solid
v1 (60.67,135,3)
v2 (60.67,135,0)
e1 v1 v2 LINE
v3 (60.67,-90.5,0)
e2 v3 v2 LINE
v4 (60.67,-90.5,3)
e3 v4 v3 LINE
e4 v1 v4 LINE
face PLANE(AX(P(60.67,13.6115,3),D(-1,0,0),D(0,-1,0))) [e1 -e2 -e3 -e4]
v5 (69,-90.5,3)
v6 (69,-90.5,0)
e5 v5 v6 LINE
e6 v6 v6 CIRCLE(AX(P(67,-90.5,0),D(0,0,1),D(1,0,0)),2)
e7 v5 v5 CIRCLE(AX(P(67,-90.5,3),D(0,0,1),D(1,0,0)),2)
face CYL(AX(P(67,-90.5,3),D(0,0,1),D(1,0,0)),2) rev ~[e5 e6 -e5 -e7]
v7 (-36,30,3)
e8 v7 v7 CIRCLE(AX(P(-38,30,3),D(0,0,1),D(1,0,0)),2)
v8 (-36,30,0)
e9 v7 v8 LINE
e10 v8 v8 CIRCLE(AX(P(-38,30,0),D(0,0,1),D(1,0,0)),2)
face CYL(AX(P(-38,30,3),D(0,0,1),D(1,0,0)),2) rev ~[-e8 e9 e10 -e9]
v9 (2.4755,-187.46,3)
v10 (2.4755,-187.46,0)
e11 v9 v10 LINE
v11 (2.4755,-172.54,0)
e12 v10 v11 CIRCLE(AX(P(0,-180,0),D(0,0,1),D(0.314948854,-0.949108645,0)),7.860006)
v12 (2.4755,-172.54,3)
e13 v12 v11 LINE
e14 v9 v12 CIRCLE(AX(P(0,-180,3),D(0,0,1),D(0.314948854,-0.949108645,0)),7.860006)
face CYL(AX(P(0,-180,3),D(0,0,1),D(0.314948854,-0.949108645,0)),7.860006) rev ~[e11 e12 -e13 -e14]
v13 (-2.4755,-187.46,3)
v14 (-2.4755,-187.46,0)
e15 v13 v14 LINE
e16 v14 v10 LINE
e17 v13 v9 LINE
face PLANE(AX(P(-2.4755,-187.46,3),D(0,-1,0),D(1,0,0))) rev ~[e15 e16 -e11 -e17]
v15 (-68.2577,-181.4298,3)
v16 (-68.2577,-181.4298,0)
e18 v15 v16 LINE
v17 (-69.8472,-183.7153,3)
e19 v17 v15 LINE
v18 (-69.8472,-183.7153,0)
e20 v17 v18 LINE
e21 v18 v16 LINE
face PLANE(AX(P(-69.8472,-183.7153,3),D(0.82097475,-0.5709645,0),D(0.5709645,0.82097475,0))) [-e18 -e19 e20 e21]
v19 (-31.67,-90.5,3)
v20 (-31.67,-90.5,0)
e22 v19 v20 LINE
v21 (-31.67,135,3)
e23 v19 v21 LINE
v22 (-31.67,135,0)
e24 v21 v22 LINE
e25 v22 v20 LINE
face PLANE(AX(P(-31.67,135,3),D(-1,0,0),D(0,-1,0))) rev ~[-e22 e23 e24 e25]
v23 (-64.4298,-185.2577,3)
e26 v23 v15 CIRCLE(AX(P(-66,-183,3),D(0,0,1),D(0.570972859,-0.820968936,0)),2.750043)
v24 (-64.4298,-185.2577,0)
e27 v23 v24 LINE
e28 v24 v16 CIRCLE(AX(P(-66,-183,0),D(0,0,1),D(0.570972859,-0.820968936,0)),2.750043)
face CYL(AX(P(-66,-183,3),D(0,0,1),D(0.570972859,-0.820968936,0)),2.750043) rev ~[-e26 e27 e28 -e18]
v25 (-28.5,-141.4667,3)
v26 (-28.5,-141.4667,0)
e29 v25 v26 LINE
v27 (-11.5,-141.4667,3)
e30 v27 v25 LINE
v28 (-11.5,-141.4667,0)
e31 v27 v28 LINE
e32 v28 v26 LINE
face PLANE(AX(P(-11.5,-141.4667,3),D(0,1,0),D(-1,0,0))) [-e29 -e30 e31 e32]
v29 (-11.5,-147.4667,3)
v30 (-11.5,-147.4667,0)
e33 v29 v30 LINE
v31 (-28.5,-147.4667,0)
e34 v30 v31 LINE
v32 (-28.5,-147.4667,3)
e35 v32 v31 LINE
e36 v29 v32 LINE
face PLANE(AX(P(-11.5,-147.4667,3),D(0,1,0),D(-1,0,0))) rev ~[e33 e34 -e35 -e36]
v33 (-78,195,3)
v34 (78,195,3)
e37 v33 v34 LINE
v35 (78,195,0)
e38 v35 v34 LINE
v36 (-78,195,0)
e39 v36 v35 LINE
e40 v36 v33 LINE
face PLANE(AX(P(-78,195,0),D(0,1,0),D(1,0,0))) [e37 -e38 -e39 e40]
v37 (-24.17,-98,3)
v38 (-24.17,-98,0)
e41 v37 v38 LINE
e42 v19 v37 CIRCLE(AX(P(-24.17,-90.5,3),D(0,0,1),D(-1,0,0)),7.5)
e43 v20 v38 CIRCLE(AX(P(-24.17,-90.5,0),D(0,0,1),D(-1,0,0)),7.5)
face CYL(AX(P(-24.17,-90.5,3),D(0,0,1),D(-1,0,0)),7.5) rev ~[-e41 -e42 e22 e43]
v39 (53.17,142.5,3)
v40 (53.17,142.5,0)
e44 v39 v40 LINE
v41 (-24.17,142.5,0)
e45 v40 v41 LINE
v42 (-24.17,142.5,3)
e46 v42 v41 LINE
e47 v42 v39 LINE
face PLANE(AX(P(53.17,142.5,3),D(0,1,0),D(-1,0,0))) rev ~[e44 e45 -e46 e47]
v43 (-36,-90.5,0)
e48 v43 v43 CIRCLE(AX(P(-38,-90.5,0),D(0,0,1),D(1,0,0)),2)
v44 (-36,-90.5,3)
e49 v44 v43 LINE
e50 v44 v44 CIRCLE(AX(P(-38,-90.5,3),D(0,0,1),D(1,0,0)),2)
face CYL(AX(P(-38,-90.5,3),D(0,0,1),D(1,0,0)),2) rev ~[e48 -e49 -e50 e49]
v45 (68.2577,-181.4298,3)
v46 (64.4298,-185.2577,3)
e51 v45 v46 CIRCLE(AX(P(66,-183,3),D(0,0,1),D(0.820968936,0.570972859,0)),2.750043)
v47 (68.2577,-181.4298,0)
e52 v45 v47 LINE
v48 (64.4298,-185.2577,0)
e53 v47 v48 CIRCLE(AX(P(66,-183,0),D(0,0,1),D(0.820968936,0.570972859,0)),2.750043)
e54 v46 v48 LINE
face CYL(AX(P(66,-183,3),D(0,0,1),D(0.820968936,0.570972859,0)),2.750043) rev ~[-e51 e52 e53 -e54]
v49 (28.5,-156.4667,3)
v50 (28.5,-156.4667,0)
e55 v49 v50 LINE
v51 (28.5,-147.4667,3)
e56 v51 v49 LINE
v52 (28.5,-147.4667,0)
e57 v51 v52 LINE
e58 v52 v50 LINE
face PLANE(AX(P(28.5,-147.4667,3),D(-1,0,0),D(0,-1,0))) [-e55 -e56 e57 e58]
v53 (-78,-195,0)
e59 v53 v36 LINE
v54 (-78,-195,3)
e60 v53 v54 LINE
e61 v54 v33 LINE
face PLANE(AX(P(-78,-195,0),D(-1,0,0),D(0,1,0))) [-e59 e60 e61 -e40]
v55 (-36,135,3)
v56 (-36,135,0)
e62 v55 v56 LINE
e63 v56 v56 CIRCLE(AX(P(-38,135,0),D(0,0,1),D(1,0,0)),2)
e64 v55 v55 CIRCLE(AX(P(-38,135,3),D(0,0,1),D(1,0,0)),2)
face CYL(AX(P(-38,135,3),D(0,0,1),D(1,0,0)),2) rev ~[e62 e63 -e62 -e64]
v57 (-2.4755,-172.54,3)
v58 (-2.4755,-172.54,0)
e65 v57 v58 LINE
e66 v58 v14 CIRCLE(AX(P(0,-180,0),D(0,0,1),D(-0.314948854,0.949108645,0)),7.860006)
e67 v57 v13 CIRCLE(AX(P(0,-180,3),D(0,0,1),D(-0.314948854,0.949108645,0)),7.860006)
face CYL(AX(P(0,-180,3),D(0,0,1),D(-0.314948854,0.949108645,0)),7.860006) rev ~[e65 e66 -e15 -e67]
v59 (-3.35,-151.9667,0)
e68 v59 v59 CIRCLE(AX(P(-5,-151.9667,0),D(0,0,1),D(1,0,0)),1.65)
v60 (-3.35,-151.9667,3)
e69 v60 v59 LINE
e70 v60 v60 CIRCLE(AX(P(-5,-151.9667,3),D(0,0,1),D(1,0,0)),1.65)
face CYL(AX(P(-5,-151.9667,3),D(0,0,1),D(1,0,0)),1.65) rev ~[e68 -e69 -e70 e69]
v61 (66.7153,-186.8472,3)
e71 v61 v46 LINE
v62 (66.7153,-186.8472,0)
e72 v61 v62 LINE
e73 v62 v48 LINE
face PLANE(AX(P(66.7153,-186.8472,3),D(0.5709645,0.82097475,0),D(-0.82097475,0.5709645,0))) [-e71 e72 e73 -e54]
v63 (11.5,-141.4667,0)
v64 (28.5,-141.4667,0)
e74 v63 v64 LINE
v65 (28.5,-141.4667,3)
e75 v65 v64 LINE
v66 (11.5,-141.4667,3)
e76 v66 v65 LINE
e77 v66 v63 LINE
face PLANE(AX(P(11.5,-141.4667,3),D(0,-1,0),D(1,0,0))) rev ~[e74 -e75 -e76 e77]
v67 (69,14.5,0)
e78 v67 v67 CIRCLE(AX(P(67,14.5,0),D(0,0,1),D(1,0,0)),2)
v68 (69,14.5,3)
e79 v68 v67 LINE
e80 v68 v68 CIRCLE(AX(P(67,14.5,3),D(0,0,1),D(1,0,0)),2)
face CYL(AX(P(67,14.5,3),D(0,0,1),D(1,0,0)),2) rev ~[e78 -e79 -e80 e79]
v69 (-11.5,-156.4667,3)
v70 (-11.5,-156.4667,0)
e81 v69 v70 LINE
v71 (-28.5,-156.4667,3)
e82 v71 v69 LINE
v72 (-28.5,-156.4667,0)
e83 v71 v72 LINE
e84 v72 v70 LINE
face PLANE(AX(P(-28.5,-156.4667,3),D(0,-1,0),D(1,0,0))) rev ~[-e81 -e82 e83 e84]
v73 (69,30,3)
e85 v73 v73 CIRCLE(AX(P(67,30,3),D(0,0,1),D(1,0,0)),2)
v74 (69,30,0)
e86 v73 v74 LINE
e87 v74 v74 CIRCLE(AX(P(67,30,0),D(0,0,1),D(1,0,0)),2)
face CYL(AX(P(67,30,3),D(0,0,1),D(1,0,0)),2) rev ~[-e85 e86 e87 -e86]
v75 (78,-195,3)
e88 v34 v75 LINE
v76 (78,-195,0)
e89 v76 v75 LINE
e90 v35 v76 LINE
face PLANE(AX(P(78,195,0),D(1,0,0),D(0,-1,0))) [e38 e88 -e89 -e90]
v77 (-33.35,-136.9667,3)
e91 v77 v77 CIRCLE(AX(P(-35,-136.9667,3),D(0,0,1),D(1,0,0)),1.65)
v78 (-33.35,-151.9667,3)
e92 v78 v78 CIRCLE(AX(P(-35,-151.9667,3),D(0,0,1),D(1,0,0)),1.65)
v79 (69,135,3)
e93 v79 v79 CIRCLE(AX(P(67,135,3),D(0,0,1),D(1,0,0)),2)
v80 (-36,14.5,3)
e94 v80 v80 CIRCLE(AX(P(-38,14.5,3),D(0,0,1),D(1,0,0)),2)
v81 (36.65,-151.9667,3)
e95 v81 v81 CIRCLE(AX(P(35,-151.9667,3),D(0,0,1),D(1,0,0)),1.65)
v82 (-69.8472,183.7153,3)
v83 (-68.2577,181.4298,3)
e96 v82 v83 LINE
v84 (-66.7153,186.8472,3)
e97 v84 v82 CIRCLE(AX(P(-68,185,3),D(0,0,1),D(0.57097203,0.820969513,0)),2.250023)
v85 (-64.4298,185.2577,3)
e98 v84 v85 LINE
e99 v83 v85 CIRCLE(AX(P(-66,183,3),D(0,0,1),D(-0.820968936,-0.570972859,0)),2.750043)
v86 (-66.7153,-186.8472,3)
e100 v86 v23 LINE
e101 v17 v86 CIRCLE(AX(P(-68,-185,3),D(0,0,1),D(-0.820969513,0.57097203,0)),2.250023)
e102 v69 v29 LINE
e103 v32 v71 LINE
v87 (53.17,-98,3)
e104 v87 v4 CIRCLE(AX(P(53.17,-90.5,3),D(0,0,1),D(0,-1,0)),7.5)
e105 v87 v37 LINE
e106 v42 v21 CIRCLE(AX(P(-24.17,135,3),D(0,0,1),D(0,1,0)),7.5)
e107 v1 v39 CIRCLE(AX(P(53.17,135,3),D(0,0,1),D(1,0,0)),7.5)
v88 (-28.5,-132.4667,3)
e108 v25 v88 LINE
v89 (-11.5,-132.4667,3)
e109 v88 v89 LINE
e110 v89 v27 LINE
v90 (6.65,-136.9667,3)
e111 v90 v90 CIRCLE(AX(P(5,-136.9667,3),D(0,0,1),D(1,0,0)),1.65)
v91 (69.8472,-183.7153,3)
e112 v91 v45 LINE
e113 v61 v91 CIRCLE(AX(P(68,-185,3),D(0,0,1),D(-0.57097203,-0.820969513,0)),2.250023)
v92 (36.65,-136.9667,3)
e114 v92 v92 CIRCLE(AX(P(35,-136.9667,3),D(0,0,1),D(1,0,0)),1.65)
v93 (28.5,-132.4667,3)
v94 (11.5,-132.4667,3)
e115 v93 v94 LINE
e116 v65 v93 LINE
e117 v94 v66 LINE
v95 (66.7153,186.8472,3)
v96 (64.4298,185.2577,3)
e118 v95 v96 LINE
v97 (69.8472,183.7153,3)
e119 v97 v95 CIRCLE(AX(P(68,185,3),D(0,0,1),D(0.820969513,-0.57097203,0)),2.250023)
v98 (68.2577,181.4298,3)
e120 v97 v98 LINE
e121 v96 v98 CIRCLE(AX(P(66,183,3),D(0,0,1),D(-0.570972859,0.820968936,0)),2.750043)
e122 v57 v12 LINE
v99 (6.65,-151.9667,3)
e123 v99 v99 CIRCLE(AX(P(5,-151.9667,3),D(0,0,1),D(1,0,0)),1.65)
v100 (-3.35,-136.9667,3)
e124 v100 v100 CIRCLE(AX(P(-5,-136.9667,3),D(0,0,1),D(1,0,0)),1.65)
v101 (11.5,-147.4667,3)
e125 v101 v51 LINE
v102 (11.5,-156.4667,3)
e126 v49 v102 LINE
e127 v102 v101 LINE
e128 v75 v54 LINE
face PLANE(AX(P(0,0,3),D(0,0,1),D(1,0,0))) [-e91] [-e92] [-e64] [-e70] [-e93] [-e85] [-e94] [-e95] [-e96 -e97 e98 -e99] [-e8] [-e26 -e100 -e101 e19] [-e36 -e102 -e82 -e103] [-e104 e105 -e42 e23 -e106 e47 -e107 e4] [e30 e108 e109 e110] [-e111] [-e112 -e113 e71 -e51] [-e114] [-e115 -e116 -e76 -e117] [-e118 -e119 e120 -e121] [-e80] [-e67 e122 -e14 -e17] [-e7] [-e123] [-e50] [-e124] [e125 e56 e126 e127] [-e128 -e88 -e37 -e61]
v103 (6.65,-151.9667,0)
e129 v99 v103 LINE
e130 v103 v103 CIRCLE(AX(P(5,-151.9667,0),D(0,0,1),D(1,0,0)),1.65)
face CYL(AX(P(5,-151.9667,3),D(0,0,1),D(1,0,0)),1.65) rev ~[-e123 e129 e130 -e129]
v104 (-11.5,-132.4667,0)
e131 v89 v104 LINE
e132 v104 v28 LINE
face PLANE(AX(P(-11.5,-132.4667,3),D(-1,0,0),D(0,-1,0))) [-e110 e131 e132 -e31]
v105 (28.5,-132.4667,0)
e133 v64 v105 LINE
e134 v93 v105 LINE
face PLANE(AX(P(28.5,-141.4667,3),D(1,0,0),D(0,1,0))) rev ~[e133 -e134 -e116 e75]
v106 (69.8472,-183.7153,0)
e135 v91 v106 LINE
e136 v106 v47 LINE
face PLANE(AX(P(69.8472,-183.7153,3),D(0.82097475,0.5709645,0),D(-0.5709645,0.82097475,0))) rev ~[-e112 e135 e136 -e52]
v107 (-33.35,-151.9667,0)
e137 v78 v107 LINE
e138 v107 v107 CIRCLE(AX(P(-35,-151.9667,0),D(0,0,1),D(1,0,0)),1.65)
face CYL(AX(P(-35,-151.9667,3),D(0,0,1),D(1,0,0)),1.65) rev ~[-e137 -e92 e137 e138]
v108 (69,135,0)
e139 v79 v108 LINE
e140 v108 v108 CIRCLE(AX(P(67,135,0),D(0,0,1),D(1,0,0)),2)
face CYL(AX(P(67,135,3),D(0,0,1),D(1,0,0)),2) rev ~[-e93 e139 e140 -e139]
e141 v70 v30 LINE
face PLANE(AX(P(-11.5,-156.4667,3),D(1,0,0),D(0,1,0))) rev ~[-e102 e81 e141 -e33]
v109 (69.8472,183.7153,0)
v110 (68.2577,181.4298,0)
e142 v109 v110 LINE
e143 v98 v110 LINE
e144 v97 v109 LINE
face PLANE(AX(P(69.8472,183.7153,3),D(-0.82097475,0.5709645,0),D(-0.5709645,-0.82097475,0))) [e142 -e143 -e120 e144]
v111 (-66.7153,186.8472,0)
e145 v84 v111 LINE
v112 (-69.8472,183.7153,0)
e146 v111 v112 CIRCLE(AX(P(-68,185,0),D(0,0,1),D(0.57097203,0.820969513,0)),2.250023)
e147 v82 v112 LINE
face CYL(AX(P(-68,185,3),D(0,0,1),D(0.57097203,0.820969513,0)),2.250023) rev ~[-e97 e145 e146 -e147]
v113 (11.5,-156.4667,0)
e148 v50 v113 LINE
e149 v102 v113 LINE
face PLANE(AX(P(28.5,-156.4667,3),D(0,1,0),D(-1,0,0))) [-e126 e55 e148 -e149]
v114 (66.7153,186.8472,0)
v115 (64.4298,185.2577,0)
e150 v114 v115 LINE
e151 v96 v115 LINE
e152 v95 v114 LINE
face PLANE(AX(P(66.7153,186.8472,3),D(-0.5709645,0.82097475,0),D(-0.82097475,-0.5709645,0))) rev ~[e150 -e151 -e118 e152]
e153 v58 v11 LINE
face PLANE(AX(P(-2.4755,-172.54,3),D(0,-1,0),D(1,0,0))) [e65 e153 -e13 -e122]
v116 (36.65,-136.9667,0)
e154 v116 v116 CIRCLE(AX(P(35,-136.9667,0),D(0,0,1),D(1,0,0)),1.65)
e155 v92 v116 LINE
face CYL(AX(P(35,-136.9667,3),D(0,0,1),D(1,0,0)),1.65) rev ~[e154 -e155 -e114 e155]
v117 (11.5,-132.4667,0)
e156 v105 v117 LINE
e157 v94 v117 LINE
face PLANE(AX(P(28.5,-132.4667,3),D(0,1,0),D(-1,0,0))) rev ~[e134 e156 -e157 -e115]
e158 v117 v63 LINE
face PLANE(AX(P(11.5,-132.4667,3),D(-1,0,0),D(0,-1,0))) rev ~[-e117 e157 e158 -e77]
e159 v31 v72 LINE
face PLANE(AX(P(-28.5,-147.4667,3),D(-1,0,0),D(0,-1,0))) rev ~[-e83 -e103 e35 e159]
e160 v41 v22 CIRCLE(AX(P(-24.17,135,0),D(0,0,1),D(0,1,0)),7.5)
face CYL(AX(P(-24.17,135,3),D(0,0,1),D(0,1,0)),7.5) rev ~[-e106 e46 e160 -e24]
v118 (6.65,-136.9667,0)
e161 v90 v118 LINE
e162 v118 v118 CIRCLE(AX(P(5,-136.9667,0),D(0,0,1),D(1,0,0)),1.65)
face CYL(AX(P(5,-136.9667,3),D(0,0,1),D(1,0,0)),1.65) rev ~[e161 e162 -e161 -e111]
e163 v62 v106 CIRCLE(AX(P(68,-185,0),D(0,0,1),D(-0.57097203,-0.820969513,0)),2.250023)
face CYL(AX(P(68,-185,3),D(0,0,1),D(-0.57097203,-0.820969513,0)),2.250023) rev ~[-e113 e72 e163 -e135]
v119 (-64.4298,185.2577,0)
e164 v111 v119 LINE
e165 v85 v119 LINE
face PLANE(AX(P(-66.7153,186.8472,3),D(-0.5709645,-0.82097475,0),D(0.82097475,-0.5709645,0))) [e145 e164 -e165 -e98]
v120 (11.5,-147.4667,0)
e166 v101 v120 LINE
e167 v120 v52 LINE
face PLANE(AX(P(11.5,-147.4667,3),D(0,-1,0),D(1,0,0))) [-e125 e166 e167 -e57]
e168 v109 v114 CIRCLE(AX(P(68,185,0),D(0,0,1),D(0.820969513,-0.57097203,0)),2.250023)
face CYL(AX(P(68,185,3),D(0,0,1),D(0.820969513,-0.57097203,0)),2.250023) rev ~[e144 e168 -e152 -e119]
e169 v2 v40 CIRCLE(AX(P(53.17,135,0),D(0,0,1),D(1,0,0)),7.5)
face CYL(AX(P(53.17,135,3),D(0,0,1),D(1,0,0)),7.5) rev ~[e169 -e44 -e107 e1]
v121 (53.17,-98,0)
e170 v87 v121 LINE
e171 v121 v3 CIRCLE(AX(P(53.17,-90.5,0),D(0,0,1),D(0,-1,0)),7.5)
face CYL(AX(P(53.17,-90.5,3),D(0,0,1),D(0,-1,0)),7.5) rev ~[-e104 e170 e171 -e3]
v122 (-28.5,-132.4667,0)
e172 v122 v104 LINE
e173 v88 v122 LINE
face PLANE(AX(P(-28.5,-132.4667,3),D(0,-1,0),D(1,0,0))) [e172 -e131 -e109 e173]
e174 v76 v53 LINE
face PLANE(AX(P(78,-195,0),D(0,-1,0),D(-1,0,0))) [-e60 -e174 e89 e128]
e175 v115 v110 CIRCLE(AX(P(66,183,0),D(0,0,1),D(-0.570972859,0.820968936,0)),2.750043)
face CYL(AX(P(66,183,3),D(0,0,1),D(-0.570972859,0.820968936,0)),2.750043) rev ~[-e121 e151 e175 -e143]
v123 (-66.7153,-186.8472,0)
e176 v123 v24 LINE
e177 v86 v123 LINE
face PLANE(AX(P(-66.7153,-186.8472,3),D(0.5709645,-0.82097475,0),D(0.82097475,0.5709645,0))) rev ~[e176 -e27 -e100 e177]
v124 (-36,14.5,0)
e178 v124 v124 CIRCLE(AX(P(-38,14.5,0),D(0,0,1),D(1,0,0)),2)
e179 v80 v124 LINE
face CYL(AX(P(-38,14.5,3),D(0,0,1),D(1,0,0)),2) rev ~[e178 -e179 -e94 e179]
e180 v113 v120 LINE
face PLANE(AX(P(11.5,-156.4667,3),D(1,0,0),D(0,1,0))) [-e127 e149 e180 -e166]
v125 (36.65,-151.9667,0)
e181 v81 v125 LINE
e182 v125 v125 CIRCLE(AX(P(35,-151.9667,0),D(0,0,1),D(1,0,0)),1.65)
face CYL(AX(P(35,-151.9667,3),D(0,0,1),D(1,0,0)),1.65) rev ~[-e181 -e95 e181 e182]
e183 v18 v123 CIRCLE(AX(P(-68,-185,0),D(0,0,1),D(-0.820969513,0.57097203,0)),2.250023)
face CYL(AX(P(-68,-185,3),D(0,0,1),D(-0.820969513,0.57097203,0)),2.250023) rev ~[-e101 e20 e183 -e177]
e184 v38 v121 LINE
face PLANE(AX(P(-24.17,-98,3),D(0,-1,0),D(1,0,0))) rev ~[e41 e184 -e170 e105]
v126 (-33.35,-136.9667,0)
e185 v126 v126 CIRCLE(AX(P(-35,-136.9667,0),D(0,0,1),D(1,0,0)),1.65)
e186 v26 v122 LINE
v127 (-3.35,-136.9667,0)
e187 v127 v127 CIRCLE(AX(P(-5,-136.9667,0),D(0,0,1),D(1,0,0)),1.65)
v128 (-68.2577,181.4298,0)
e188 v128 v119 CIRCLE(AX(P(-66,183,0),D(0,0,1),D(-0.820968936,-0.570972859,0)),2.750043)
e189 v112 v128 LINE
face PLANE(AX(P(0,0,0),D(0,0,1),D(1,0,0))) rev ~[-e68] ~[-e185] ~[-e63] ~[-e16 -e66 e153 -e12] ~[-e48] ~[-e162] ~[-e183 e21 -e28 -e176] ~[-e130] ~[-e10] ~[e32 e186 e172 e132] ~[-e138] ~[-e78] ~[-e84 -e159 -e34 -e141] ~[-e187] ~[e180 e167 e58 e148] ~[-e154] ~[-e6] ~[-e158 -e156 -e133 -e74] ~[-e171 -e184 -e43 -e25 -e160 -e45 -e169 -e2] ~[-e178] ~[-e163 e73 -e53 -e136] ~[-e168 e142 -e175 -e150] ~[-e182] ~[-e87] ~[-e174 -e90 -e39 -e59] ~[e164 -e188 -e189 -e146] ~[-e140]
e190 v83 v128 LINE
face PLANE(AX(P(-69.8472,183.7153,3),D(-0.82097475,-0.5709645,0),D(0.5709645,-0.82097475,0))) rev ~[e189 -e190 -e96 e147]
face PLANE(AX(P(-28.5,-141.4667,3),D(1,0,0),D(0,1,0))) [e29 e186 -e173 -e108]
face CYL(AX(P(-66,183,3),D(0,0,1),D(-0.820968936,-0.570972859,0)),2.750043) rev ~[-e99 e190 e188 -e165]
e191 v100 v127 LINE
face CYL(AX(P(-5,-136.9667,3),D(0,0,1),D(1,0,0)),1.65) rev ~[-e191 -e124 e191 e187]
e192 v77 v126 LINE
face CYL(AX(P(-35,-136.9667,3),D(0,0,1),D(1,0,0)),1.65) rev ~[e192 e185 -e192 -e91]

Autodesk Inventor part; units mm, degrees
ref_plane "YZ Plane" through (0, 0, 0) normal (1, 0, 0) x (0, 1, 0)
ref_plane "XZ Plane" through (0, 0, 0) normal (0, 1, 0) x (-1, 0, 0)
ref_plane "XY Plane" through (0, 0, 0) normal (0, 0, 1) x (1, 0, 0)
sketch "Sketch1" plane through (0, 0, 0) normal (0, 0, 1) x (1, 0, 0)
  line L0 (-78, 195) -> (78, 195)
  line L1 (78, 195) -> (78, -195)
  line L2 (78, -195) -> (-78, -195)
  line L3 (-78, -195) -> (-78, 195)
  line L4 (-78, 195) -> (78, -195) construction
  line L5 (78, 195) -> (-78, -195) construction
  point P0 (0, 0)
  dimension "d1" = 156
  dimension "d2" = 390
extrude "Extrusion1" add sketch "Sketch1" along normal blind 3
sketch "Sketch2" plane through (0, 0, 3) normal (0, 0, 1) x (1, 0, 0)
  line L0 (-78, -195) -> (78, -195) projected
  line L1 (-78, 195) -> (-78, -195) projected
  arc A0 (-64.4298, -185.2577) -> (-68.2577, -181.4298) centre (-66, -183) ccw
  arc A1 (-69.8472, -183.7153) -> (-66.7153, -186.8472) centre (-68, -185) ccw
  line L2 (-66.7153, -186.8472) -> (-64.4298, -185.2577)
  line L3 (-69.8472, -183.7153) -> (-68.2577, -181.4298)
  line L4 (0, 16.0888) -> (0, -25.3045)
  line L5 (-19.6832, 0) -> (22.709, 0)
  arc A2 (68.2577, -181.4298) -> (64.4298, -185.2577) centre (66, -183) ccw
  arc A3 (66.7153, -186.8472) -> (69.8472, -183.7153) centre (68, -185) ccw
  line L6 (66.7153, -186.8472) -> (64.4298, -185.2577)
  line L7 (69.8472, -183.7153) -> (68.2577, -181.4298)
  arc A4 (-68.2577, 181.4298) -> (-64.4298, 185.2577) centre (-66, 183) ccw
  arc A5 (-66.7153, 186.8472) -> (-69.8472, 183.7153) centre (-68, 185) ccw
  line L8 (-66.7153, 186.8472) -> (-64.4298, 185.2577)
  line L9 (-69.8472, 183.7153) -> (-68.2577, 181.4298)
  arc A6 (64.4298, 185.2577) -> (68.2577, 181.4298) centre (66, 183) ccw
  arc A7 (69.8472, 183.7153) -> (66.7153, 186.8472) centre (68, 185) ccw
  line L10 (66.7153, 186.8472) -> (64.4298, 185.2577)
  line L11 (69.8472, 183.7153) -> (68.2577, 181.4298)
  point P0 (0, 0)
  dimension "d11" = 12
  dimension "d12" = 10
  dimension "d13" = 12
  dimension "d14" = 10
  dimension "d15" = 5.5
  dimension "d16" = 4.5
extrude "Extrusion2" cut sketch "Sketch2" against normal up to surface (3 mm away)
sketch "Sketch4" plane through (0, 0, 3) normal (0, 0, 1) x (1, 0, 0)
  line L0 (-28.5, -132.4667) -> (-11.5, -132.4667)
  line L1 (-11.5, -132.4667) -> (-11.5, -141.4667)
  line L2 (-11.5, -141.4667) -> (-28.5, -141.4667)
  line L3 (-28.5, -141.4667) -> (-28.5, -132.4667)
  line L4 (-28.5, -132.4667) -> (-11.5, -141.4667) construction
  line L5 (-11.5, -132.4667) -> (-28.5, -141.4667) construction
  circle A0 centre (-35, -136.9667) radius 1.65
  circle A1 centre (-5, -136.9667) radius 1.65
  line L6 (0, -132.1595) -> (0, -155.449)
  line L7 (28.5, -132.4667) -> (11.5, -132.4667)
  line L8 (11.5, -132.4667) -> (11.5, -141.4667)
  line L9 (11.5, -141.4667) -> (28.5, -141.4667)
  line L10 (28.5, -141.4667) -> (28.5, -132.4667)
  line L11 (28.5, -132.4667) -> (11.5, -141.4667) construction
  line L12 (11.5, -132.4667) -> (28.5, -141.4667) construction
  circle A2 centre (35, -136.9667) radius 1.65
  circle A3 centre (5, -136.9667) radius 1.65
  line L13 (-30.7879, -144.4667) -> (-3.35, -144.4667)
  line L14 (-28.5, -156.4667) -> (-11.5, -156.4667)
  line L15 (-11.5, -156.4667) -> (-11.5, -147.4667)
  line L16 (-11.5, -147.4667) -> (-28.5, -147.4667)
  line L17 (-28.5, -147.4667) -> (-28.5, -156.4667)
  line L18 (-28.5, -156.4667) -> (-11.5, -147.4667) construction
  line L19 (-11.5, -156.4667) -> (-28.5, -147.4667) construction
  circle A4 centre (-35, -151.9667) radius 1.65
  circle A5 centre (-5, -151.9667) radius 1.65
  line L20 (28.5, -156.4667) -> (11.5, -156.4667)
  line L21 (11.5, -156.4667) -> (11.5, -147.4667)
  line L22 (11.5, -147.4667) -> (28.5, -147.4667)
  line L23 (28.5, -147.4667) -> (28.5, -156.4667)
  line L24 (28.5, -156.4667) -> (11.5, -147.4667) construction
  line L25 (11.5, -156.4667) -> (28.5, -147.4667) construction
  circle A6 centre (35, -151.9667) radius 1.65
  circle A7 centre (5, -151.9667) radius 1.65
  line L26 (-66.7153, 186.8472) -> (-64.4298, 185.2577) projected
  arc A8 (-68.2577, 181.4298) -> (-64.4298, 185.2577) centre (-66, 183) ccw projected
  line L27 (-68.2577, 181.4298) -> (-69.8472, 183.7153) projected
  arc A9 (-66.7153, 186.8472) -> (-69.8472, 183.7153) centre (-68, 185) ccw projected
  arc A10 (69.8472, 183.7153) -> (66.7153, 186.8472) centre (68, 185) ccw projected
  line L28 (69.8472, 183.7153) -> (68.2577, 181.4298) projected
  arc A11 (64.4298, 185.2577) -> (68.2577, 181.4298) centre (66, 183) ccw projected
  line L29 (64.4298, 185.2577) -> (66.7153, 186.8472) projected
  line L30 (66.7153, -186.8472) -> (64.4298, -185.2577) projected
  arc A12 (68.2577, -181.4298) -> (64.4298, -185.2577) centre (66, -183) ccw projected
  line L31 (68.2577, -181.4298) -> (69.8472, -183.7153) projected
  arc A13 (66.7153, -186.8472) -> (69.8472, -183.7153) centre (68, -185) ccw projected
  arc A14 (-69.8472, -183.7153) -> (-66.7153, -186.8472) centre (-68, -185) ccw projected
  line L32 (-69.8472, -183.7153) -> (-68.2577, -181.4298) projected
  arc A15 (-64.4298, -185.2577) -> (-68.2577, -181.4298) centre (-66, -183) ccw projected
  line L33 (-64.4298, -185.2577) -> (-66.7153, -186.8472) projected
  line L34 (78, 195) -> (-78, 195) projected
  line L35 (-78, 195) -> (-78, -195) projected
  line L36 (-78, -195) -> (78, -195) projected
  line L37 (78, -195) -> (78, 195) projected
  line L38 (78, -195) -> (-78, -195) projected
  point P0 (0, 0)
  point P1 (-20, -136.9667)
  point P2 (-5, -136.9667)
  point P3 (20, -136.9667)
  point P4 (-20, -151.9667)
  point P5 (20, -151.9667)
  point P6 (0, -195)
  dimension "d37" = 17
  dimension "d38" = 9
  dimension "d39" = 6.5
  dimension "d40" = 4.5
  dimension "d41" = 3.3
  dimension "d42" = 6.5
  dimension "d43" = 4.5
  dimension "d44" = 3.3
  dimension "d45" = 5
  dimension "d46" = 3
  dimension "d55" = 0
extrude "Extrusion4" cut sketch "Sketch4" against normal up to surface (3 mm away) contours L0 L1 L2 L3 | A0 | A1 | L10 L9 L8 L7 | A2 | A3 | L17 L16 L15 L14 | A4 | A5 | L20 L21 L22 L23 | A6 | A7
sketch "Sketch5" plane through (0, 0, 3) normal (0, 0, 1) x (1, 0, 0)
  line L0 (-78, -195) -> (78, -195) projected
  line L1 (-2.4755, -172.54) -> (2.4755, -172.54)
  line L2 (-2.4755, -187.46) -> (2.4755, -187.46)
  arc A0 (-2.4755, -172.54) -> (-2.4755, -187.46) centre (0, -180) ccw
  arc A1 (2.4755, -187.46) -> (2.4755, -172.54) centre (0, -180) ccw
  point P0 (0, 0)
  dimension "d49" = 15
  dimension "d51" = 7.46
  dimension "d52" = 7.46
extrude "Extrusion5" cut sketch "Sketch5" against normal up to surface (3 mm away)
sketch "Sketch7" plane through (0, 0, 3) normal (0, 0, 1) x (1, 0, 0)
  circle A0 centre (-38, -90.5) radius 2
  line L0 (-2.4755, -172.54) -> (2.4755, -172.54) projected
  arc A1 (2.4755, -187.46) -> (2.4755, -172.54) centre (0, -180) ccw projected
  line L1 (2.4755, -187.46) -> (-2.4755, -187.46) projected
  arc A2 (-2.4755, -172.54) -> (-2.4755, -187.46) centre (0, -180) ccw projected
  line L2 (-11.5, -156.4667) -> (-28.5, -156.4667) projected
  line L3 (-28.5, -156.4667) -> (-28.5, -147.4667) projected
  line L4 (-28.5, -147.4667) -> (-11.5, -147.4667) projected
  line L5 (-11.5, -147.4667) -> (-11.5, -156.4667) projected
  line L6 (11.5, -147.4667) -> (28.5, -147.4667) projected
  line L7 (28.5, -147.4667) -> (28.5, -156.4667) projected
  line L8 (28.5, -156.4667) -> (11.5, -156.4667) projected
  line L9 (11.5, -156.4667) -> (11.5, -147.4667) projected
  line L10 (11.5, -132.4667) -> (28.5, -132.4667) projected
  line L11 (28.5, -132.4667) -> (28.5, -141.4667) projected
  line L12 (28.5, -141.4667) -> (11.5, -141.4667) projected
  line L13 (11.5, -141.4667) -> (11.5, -132.4667) projected
  circle A3 centre (35, -151.9667) radius 1.65 projected
  circle A4 centre (-35, -151.9667) radius 1.65 projected
  circle A5 centre (5, -136.9667) radius 1.65 projected
  circle A6 centre (-5, -136.9667) radius 1.65 projected
  circle A7 centre (-35, -136.9667) radius 1.65 projected
  circle A8 centre (35, -136.9667) radius 1.65 projected
  circle A9 centre (-5, -151.9667) radius 1.65 projected
  circle A10 centre (5, -151.9667) radius 1.65 projected
  line L14 (-11.5, -132.4667) -> (-11.5, -141.4667) projected
  line L15 (-11.5, -141.4667) -> (-28.5, -141.4667) projected
  line L16 (-28.5, -141.4667) -> (-28.5, -132.4667) projected
  line L17 (-28.5, -132.4667) -> (-11.5, -132.4667) projected
  line L18 (-66.7153, 186.8472) -> (-64.4298, 185.2577) projected
  arc A11 (-68.2577, 181.4298) -> (-64.4298, 185.2577) centre (-66, 183) ccw projected
  line L19 (-68.2577, 181.4298) -> (-69.8472, 183.7153) projected
  arc A12 (-66.7153, 186.8472) -> (-69.8472, 183.7153) centre (-68, 185) ccw projected
  arc A13 (69.8472, 183.7153) -> (66.7153, 186.8472) centre (68, 185) ccw projected
  line L20 (69.8472, 183.7153) -> (68.2577, 181.4298) projected
  arc A14 (64.4298, 185.2577) -> (68.2577, 181.4298) centre (66, 183) ccw projected
  line L21 (64.4298, 185.2577) -> (66.7153, 186.8472) projected
  line L22 (66.7153, -186.8472) -> (64.4298, -185.2577) projected
  arc A15 (68.2577, -181.4298) -> (64.4298, -185.2577) centre (66, -183) ccw projected
  line L23 (68.2577, -181.4298) -> (69.8472, -183.7153) projected
  arc A16 (66.7153, -186.8472) -> (69.8472, -183.7153) centre (68, -185) ccw projected
  arc A17 (-69.8472, -183.7153) -> (-66.7153, -186.8472) centre (-68, -185) ccw projected
  line L24 (-69.8472, -183.7153) -> (-68.2577, -181.4298) projected
  arc A18 (-64.4298, -185.2577) -> (-68.2577, -181.4298) centre (-66, -183) ccw projected
  line L25 (-64.4298, -185.2577) -> (-66.7153, -186.8472) projected
  line L26 (78, 195) -> (-78, 195) projected
  line L27 (-78, 195) -> (-78, -195) projected
  line L28 (-78, -195) -> (78, -195) projected
  line L29 (78, -195) -> (78, 195) projected
  circle A19 centre (-38, 14.5) radius 2
  circle A20 centre (-38, 30) radius 2
  circle A21 centre (-38, 135) radius 2
  line L30 (14.5, 19.3358) -> (14.5, -21.6)
  circle A22 centre (67, -90.5) radius 2
  circle A23 centre (67, 14.5) radius 2
  circle A24 centre (67, 30) radius 2
  circle A25 centre (67, 135) radius 2
  point P0 (0, 0)
  dimension "d56" = 4
  dimension "d57" = 40
  dimension "d60" = 4
  dimension "d61" = 105
  dimension "d62" = 40
  dimension "d63" = 4
  dimension "d65" = 40
  dimension "d66" = 4
  dimension "d68" = 40
  dimension "d69" = 60
  dimension "d103" = 15.5
  dimension "d104" = 105
  dimension "d112" = 52.5
extrude "Extrusion7" cut sketch "Sketch7" against normal up to surface (3 mm away) contours A0 | A19 | A20 | A21 | A22 | A23 | A24 | A25
sketch "Sketch8" plane through (0, 0, 3) normal (0, 0, 1) x (1, 0, 0)
  circle A0 centre (-38, -90.5) radius 2 projected
  circle A1 centre (-38, 14.5) radius 2 projected
  circle A2 centre (67, 30) radius 2 projected
  circle A3 centre (67, 135) radius 2 projected
  circle A4 centre (67, -90.5) radius 2 projected
  circle A5 centre (67, 14.5) radius 2 projected
  circle A6 centre (-38, 30) radius 2 projected
  circle A7 centre (-38, 135) radius 2 projected
  line L0 (-2.4755, -172.54) -> (2.4755, -172.54) projected
  arc A8 (2.4755, -187.46) -> (2.4755, -172.54) centre (0, -180) ccw projected
  line L1 (2.4755, -187.46) -> (-2.4755, -187.46) projected
  arc A9 (-2.4755, -172.54) -> (-2.4755, -187.46) centre (0, -180) ccw projected
  line L2 (-11.5, -156.4667) -> (-28.5, -156.4667) projected
  line L3 (-28.5, -156.4667) -> (-28.5, -147.4667) projected
  line L4 (-28.5, -147.4667) -> (-11.5, -147.4667) projected
  line L5 (-11.5, -147.4667) -> (-11.5, -156.4667) projected
  line L6 (11.5, -147.4667) -> (28.5, -147.4667) projected
  line L7 (28.5, -147.4667) -> (28.5, -156.4667) projected
  line L8 (28.5, -156.4667) -> (11.5, -156.4667) projected
  line L9 (11.5, -156.4667) -> (11.5, -147.4667) projected
  line L10 (11.5, -132.4667) -> (28.5, -132.4667) projected
  line L11 (28.5, -132.4667) -> (28.5, -141.4667) projected
  line L12 (28.5, -141.4667) -> (11.5, -141.4667) projected
  line L13 (11.5, -141.4667) -> (11.5, -132.4667) projected
  circle A10 centre (35, -151.9667) radius 1.65 projected
  circle A11 centre (-35, -151.9667) radius 1.65 projected
  circle A12 centre (5, -136.9667) radius 1.65 projected
  circle A13 centre (-5, -136.9667) radius 1.65 projected
  circle A14 centre (-35, -136.9667) radius 1.65 projected
  circle A15 centre (35, -136.9667) radius 1.65 projected
  circle A16 centre (-5, -151.9667) radius 1.65 projected
  circle A17 centre (5, -151.9667) radius 1.65 projected
  line L14 (-11.5, -132.4667) -> (-11.5, -141.4667) projected
  line L15 (-11.5, -141.4667) -> (-28.5, -141.4667) projected
  line L16 (-28.5, -141.4667) -> (-28.5, -132.4667) projected
  line L17 (-28.5, -132.4667) -> (-11.5, -132.4667) projected
  line L18 (-66.7153, 186.8472) -> (-64.4298, 185.2577) projected
  arc A18 (-68.2577, 181.4298) -> (-64.4298, 185.2577) centre (-66, 183) ccw projected
  line L19 (-68.2577, 181.4298) -> (-69.8472, 183.7153) projected
  arc A19 (-66.7153, 186.8472) -> (-69.8472, 183.7153) centre (-68, 185) ccw projected
  arc A20 (69.8472, 183.7153) -> (66.7153, 186.8472) centre (68, 185) ccw projected
  line L20 (69.8472, 183.7153) -> (68.2577, 181.4298) projected
  arc A21 (64.4298, 185.2577) -> (68.2577, 181.4298) centre (66, 183) ccw projected
  line L21 (64.4298, 185.2577) -> (66.7153, 186.8472) projected
  line L22 (66.7153, -186.8472) -> (64.4298, -185.2577) projected
  arc A22 (68.2577, -181.4298) -> (64.4298, -185.2577) centre (66, -183) ccw projected
  line L23 (68.2577, -181.4298) -> (69.8472, -183.7153) projected
  arc A23 (66.7153, -186.8472) -> (69.8472, -183.7153) centre (68, -185) ccw projected
  arc A24 (-69.8472, -183.7153) -> (-66.7153, -186.8472) centre (-68, -185) ccw projected
  line L24 (-69.8472, -183.7153) -> (-68.2577, -181.4298) projected
  arc A25 (-64.4298, -185.2577) -> (-68.2577, -181.4298) centre (-66, -183) ccw projected
  line L25 (-64.4298, -185.2577) -> (-66.7153, -186.8472) projected
  line L26 (78, 195) -> (-78, 195) projected
  line L27 (-78, 195) -> (-78, -195) projected
  line L28 (-78, -195) -> (78, -195) projected
  line L29 (78, -195) -> (78, 195) projected
  circle A26 centre (-38, 135) radius 2 projected
  circle A27 centre (-38, 135) radius 6.33
  line L30 (-31.67, 135) -> (-31.67, 13.6115)
  arc A28 (-24.17, 142.5) -> (-31.67, 135) centre (-24.17, 135) ccw
  line L31 (-31.67, 13.6115) -> (-31.67, -90.5)
  arc A29 (-31.67, -90.5) -> (-24.17, -98) centre (-24.17, -90.5) ccw
  line L32 (-24.17, -98) -> (-10.2337, -98)
  line L33 (-24.17, 142.5) -> (-11.5, 142.5)
  line L34 (14.5, 11.7665) -> (14.5, -13.3152)
  line L35 (60.67, 135) -> (60.67, 13.6115)
  arc A30 (60.67, 135) -> (53.17, 142.5) centre (53.17, 135) ccw
  line L36 (60.67, 13.6115) -> (60.67, -90.5)
  arc A31 (53.17, -98) -> (60.67, -90.5) centre (53.17, -90.5) ccw
  line L37 (53.17, -98) -> (39.2337, -98)
  line L38 (53.17, 142.5) -> (40.5, 142.5)
  line L39 (40.5, 142.5) -> (-11.5, 142.5)
  line L40 (39.2337, -98) -> (12.6121, -98)
  circle A32 centre (-38, -90.5) radius 2 projected
  line L41 (-10.2337, -98) -> (21.6365, -98)
  point P0 (0, 0)
  point P1 (14.5, 82.5)
  point P2 (14.5, -38)
  point P3 (3.676, -78)
  point P4 (12.6121, -98)
  dimension "d90" = 52.5
  dimension "d91" = 52.5
  dimension "d94" = 7.5
  dimension "d96" = 52.5
  dimension "d97" = 52.5
  dimension "d100" = 7.5
  dimension "d107" = 60
  dimension "d108" = 60
  dimension "d109" = 7.5
  dimension "d113" = 52.5
extrude "Extrusion9" cut sketch "Sketch8" against normal up to surface (3 mm away) contours A28 L33 L39 L38 A30 L35 L36 A31 L37 L40 L41 L32 A29 L31 L30
equation "\"d13\" = d11"
equation "\"d14\" = d12"
equation "\"d42\" = d39"
equation "\"d44\" = d41"
equation "\"d62\" = d57"
equation "\"d65\" = d62"
equation "\"d68\" = d65"
equation "\"d104\" = d61"
equation "\"d87\" = d62"
equation "\"d91\" = d90"
equation "\"d97\" = d96"
equation "\"d100\" = d99"
equation "\"d109\" = d100"
equation "\"d26\" = d24"
equation "\"d28\" = d26"
equation "\"d99\" = d95"
equation "\"d24\" = 44.7"
equation "\"d95\" = 7.5"
properties part number "top_panel2"
